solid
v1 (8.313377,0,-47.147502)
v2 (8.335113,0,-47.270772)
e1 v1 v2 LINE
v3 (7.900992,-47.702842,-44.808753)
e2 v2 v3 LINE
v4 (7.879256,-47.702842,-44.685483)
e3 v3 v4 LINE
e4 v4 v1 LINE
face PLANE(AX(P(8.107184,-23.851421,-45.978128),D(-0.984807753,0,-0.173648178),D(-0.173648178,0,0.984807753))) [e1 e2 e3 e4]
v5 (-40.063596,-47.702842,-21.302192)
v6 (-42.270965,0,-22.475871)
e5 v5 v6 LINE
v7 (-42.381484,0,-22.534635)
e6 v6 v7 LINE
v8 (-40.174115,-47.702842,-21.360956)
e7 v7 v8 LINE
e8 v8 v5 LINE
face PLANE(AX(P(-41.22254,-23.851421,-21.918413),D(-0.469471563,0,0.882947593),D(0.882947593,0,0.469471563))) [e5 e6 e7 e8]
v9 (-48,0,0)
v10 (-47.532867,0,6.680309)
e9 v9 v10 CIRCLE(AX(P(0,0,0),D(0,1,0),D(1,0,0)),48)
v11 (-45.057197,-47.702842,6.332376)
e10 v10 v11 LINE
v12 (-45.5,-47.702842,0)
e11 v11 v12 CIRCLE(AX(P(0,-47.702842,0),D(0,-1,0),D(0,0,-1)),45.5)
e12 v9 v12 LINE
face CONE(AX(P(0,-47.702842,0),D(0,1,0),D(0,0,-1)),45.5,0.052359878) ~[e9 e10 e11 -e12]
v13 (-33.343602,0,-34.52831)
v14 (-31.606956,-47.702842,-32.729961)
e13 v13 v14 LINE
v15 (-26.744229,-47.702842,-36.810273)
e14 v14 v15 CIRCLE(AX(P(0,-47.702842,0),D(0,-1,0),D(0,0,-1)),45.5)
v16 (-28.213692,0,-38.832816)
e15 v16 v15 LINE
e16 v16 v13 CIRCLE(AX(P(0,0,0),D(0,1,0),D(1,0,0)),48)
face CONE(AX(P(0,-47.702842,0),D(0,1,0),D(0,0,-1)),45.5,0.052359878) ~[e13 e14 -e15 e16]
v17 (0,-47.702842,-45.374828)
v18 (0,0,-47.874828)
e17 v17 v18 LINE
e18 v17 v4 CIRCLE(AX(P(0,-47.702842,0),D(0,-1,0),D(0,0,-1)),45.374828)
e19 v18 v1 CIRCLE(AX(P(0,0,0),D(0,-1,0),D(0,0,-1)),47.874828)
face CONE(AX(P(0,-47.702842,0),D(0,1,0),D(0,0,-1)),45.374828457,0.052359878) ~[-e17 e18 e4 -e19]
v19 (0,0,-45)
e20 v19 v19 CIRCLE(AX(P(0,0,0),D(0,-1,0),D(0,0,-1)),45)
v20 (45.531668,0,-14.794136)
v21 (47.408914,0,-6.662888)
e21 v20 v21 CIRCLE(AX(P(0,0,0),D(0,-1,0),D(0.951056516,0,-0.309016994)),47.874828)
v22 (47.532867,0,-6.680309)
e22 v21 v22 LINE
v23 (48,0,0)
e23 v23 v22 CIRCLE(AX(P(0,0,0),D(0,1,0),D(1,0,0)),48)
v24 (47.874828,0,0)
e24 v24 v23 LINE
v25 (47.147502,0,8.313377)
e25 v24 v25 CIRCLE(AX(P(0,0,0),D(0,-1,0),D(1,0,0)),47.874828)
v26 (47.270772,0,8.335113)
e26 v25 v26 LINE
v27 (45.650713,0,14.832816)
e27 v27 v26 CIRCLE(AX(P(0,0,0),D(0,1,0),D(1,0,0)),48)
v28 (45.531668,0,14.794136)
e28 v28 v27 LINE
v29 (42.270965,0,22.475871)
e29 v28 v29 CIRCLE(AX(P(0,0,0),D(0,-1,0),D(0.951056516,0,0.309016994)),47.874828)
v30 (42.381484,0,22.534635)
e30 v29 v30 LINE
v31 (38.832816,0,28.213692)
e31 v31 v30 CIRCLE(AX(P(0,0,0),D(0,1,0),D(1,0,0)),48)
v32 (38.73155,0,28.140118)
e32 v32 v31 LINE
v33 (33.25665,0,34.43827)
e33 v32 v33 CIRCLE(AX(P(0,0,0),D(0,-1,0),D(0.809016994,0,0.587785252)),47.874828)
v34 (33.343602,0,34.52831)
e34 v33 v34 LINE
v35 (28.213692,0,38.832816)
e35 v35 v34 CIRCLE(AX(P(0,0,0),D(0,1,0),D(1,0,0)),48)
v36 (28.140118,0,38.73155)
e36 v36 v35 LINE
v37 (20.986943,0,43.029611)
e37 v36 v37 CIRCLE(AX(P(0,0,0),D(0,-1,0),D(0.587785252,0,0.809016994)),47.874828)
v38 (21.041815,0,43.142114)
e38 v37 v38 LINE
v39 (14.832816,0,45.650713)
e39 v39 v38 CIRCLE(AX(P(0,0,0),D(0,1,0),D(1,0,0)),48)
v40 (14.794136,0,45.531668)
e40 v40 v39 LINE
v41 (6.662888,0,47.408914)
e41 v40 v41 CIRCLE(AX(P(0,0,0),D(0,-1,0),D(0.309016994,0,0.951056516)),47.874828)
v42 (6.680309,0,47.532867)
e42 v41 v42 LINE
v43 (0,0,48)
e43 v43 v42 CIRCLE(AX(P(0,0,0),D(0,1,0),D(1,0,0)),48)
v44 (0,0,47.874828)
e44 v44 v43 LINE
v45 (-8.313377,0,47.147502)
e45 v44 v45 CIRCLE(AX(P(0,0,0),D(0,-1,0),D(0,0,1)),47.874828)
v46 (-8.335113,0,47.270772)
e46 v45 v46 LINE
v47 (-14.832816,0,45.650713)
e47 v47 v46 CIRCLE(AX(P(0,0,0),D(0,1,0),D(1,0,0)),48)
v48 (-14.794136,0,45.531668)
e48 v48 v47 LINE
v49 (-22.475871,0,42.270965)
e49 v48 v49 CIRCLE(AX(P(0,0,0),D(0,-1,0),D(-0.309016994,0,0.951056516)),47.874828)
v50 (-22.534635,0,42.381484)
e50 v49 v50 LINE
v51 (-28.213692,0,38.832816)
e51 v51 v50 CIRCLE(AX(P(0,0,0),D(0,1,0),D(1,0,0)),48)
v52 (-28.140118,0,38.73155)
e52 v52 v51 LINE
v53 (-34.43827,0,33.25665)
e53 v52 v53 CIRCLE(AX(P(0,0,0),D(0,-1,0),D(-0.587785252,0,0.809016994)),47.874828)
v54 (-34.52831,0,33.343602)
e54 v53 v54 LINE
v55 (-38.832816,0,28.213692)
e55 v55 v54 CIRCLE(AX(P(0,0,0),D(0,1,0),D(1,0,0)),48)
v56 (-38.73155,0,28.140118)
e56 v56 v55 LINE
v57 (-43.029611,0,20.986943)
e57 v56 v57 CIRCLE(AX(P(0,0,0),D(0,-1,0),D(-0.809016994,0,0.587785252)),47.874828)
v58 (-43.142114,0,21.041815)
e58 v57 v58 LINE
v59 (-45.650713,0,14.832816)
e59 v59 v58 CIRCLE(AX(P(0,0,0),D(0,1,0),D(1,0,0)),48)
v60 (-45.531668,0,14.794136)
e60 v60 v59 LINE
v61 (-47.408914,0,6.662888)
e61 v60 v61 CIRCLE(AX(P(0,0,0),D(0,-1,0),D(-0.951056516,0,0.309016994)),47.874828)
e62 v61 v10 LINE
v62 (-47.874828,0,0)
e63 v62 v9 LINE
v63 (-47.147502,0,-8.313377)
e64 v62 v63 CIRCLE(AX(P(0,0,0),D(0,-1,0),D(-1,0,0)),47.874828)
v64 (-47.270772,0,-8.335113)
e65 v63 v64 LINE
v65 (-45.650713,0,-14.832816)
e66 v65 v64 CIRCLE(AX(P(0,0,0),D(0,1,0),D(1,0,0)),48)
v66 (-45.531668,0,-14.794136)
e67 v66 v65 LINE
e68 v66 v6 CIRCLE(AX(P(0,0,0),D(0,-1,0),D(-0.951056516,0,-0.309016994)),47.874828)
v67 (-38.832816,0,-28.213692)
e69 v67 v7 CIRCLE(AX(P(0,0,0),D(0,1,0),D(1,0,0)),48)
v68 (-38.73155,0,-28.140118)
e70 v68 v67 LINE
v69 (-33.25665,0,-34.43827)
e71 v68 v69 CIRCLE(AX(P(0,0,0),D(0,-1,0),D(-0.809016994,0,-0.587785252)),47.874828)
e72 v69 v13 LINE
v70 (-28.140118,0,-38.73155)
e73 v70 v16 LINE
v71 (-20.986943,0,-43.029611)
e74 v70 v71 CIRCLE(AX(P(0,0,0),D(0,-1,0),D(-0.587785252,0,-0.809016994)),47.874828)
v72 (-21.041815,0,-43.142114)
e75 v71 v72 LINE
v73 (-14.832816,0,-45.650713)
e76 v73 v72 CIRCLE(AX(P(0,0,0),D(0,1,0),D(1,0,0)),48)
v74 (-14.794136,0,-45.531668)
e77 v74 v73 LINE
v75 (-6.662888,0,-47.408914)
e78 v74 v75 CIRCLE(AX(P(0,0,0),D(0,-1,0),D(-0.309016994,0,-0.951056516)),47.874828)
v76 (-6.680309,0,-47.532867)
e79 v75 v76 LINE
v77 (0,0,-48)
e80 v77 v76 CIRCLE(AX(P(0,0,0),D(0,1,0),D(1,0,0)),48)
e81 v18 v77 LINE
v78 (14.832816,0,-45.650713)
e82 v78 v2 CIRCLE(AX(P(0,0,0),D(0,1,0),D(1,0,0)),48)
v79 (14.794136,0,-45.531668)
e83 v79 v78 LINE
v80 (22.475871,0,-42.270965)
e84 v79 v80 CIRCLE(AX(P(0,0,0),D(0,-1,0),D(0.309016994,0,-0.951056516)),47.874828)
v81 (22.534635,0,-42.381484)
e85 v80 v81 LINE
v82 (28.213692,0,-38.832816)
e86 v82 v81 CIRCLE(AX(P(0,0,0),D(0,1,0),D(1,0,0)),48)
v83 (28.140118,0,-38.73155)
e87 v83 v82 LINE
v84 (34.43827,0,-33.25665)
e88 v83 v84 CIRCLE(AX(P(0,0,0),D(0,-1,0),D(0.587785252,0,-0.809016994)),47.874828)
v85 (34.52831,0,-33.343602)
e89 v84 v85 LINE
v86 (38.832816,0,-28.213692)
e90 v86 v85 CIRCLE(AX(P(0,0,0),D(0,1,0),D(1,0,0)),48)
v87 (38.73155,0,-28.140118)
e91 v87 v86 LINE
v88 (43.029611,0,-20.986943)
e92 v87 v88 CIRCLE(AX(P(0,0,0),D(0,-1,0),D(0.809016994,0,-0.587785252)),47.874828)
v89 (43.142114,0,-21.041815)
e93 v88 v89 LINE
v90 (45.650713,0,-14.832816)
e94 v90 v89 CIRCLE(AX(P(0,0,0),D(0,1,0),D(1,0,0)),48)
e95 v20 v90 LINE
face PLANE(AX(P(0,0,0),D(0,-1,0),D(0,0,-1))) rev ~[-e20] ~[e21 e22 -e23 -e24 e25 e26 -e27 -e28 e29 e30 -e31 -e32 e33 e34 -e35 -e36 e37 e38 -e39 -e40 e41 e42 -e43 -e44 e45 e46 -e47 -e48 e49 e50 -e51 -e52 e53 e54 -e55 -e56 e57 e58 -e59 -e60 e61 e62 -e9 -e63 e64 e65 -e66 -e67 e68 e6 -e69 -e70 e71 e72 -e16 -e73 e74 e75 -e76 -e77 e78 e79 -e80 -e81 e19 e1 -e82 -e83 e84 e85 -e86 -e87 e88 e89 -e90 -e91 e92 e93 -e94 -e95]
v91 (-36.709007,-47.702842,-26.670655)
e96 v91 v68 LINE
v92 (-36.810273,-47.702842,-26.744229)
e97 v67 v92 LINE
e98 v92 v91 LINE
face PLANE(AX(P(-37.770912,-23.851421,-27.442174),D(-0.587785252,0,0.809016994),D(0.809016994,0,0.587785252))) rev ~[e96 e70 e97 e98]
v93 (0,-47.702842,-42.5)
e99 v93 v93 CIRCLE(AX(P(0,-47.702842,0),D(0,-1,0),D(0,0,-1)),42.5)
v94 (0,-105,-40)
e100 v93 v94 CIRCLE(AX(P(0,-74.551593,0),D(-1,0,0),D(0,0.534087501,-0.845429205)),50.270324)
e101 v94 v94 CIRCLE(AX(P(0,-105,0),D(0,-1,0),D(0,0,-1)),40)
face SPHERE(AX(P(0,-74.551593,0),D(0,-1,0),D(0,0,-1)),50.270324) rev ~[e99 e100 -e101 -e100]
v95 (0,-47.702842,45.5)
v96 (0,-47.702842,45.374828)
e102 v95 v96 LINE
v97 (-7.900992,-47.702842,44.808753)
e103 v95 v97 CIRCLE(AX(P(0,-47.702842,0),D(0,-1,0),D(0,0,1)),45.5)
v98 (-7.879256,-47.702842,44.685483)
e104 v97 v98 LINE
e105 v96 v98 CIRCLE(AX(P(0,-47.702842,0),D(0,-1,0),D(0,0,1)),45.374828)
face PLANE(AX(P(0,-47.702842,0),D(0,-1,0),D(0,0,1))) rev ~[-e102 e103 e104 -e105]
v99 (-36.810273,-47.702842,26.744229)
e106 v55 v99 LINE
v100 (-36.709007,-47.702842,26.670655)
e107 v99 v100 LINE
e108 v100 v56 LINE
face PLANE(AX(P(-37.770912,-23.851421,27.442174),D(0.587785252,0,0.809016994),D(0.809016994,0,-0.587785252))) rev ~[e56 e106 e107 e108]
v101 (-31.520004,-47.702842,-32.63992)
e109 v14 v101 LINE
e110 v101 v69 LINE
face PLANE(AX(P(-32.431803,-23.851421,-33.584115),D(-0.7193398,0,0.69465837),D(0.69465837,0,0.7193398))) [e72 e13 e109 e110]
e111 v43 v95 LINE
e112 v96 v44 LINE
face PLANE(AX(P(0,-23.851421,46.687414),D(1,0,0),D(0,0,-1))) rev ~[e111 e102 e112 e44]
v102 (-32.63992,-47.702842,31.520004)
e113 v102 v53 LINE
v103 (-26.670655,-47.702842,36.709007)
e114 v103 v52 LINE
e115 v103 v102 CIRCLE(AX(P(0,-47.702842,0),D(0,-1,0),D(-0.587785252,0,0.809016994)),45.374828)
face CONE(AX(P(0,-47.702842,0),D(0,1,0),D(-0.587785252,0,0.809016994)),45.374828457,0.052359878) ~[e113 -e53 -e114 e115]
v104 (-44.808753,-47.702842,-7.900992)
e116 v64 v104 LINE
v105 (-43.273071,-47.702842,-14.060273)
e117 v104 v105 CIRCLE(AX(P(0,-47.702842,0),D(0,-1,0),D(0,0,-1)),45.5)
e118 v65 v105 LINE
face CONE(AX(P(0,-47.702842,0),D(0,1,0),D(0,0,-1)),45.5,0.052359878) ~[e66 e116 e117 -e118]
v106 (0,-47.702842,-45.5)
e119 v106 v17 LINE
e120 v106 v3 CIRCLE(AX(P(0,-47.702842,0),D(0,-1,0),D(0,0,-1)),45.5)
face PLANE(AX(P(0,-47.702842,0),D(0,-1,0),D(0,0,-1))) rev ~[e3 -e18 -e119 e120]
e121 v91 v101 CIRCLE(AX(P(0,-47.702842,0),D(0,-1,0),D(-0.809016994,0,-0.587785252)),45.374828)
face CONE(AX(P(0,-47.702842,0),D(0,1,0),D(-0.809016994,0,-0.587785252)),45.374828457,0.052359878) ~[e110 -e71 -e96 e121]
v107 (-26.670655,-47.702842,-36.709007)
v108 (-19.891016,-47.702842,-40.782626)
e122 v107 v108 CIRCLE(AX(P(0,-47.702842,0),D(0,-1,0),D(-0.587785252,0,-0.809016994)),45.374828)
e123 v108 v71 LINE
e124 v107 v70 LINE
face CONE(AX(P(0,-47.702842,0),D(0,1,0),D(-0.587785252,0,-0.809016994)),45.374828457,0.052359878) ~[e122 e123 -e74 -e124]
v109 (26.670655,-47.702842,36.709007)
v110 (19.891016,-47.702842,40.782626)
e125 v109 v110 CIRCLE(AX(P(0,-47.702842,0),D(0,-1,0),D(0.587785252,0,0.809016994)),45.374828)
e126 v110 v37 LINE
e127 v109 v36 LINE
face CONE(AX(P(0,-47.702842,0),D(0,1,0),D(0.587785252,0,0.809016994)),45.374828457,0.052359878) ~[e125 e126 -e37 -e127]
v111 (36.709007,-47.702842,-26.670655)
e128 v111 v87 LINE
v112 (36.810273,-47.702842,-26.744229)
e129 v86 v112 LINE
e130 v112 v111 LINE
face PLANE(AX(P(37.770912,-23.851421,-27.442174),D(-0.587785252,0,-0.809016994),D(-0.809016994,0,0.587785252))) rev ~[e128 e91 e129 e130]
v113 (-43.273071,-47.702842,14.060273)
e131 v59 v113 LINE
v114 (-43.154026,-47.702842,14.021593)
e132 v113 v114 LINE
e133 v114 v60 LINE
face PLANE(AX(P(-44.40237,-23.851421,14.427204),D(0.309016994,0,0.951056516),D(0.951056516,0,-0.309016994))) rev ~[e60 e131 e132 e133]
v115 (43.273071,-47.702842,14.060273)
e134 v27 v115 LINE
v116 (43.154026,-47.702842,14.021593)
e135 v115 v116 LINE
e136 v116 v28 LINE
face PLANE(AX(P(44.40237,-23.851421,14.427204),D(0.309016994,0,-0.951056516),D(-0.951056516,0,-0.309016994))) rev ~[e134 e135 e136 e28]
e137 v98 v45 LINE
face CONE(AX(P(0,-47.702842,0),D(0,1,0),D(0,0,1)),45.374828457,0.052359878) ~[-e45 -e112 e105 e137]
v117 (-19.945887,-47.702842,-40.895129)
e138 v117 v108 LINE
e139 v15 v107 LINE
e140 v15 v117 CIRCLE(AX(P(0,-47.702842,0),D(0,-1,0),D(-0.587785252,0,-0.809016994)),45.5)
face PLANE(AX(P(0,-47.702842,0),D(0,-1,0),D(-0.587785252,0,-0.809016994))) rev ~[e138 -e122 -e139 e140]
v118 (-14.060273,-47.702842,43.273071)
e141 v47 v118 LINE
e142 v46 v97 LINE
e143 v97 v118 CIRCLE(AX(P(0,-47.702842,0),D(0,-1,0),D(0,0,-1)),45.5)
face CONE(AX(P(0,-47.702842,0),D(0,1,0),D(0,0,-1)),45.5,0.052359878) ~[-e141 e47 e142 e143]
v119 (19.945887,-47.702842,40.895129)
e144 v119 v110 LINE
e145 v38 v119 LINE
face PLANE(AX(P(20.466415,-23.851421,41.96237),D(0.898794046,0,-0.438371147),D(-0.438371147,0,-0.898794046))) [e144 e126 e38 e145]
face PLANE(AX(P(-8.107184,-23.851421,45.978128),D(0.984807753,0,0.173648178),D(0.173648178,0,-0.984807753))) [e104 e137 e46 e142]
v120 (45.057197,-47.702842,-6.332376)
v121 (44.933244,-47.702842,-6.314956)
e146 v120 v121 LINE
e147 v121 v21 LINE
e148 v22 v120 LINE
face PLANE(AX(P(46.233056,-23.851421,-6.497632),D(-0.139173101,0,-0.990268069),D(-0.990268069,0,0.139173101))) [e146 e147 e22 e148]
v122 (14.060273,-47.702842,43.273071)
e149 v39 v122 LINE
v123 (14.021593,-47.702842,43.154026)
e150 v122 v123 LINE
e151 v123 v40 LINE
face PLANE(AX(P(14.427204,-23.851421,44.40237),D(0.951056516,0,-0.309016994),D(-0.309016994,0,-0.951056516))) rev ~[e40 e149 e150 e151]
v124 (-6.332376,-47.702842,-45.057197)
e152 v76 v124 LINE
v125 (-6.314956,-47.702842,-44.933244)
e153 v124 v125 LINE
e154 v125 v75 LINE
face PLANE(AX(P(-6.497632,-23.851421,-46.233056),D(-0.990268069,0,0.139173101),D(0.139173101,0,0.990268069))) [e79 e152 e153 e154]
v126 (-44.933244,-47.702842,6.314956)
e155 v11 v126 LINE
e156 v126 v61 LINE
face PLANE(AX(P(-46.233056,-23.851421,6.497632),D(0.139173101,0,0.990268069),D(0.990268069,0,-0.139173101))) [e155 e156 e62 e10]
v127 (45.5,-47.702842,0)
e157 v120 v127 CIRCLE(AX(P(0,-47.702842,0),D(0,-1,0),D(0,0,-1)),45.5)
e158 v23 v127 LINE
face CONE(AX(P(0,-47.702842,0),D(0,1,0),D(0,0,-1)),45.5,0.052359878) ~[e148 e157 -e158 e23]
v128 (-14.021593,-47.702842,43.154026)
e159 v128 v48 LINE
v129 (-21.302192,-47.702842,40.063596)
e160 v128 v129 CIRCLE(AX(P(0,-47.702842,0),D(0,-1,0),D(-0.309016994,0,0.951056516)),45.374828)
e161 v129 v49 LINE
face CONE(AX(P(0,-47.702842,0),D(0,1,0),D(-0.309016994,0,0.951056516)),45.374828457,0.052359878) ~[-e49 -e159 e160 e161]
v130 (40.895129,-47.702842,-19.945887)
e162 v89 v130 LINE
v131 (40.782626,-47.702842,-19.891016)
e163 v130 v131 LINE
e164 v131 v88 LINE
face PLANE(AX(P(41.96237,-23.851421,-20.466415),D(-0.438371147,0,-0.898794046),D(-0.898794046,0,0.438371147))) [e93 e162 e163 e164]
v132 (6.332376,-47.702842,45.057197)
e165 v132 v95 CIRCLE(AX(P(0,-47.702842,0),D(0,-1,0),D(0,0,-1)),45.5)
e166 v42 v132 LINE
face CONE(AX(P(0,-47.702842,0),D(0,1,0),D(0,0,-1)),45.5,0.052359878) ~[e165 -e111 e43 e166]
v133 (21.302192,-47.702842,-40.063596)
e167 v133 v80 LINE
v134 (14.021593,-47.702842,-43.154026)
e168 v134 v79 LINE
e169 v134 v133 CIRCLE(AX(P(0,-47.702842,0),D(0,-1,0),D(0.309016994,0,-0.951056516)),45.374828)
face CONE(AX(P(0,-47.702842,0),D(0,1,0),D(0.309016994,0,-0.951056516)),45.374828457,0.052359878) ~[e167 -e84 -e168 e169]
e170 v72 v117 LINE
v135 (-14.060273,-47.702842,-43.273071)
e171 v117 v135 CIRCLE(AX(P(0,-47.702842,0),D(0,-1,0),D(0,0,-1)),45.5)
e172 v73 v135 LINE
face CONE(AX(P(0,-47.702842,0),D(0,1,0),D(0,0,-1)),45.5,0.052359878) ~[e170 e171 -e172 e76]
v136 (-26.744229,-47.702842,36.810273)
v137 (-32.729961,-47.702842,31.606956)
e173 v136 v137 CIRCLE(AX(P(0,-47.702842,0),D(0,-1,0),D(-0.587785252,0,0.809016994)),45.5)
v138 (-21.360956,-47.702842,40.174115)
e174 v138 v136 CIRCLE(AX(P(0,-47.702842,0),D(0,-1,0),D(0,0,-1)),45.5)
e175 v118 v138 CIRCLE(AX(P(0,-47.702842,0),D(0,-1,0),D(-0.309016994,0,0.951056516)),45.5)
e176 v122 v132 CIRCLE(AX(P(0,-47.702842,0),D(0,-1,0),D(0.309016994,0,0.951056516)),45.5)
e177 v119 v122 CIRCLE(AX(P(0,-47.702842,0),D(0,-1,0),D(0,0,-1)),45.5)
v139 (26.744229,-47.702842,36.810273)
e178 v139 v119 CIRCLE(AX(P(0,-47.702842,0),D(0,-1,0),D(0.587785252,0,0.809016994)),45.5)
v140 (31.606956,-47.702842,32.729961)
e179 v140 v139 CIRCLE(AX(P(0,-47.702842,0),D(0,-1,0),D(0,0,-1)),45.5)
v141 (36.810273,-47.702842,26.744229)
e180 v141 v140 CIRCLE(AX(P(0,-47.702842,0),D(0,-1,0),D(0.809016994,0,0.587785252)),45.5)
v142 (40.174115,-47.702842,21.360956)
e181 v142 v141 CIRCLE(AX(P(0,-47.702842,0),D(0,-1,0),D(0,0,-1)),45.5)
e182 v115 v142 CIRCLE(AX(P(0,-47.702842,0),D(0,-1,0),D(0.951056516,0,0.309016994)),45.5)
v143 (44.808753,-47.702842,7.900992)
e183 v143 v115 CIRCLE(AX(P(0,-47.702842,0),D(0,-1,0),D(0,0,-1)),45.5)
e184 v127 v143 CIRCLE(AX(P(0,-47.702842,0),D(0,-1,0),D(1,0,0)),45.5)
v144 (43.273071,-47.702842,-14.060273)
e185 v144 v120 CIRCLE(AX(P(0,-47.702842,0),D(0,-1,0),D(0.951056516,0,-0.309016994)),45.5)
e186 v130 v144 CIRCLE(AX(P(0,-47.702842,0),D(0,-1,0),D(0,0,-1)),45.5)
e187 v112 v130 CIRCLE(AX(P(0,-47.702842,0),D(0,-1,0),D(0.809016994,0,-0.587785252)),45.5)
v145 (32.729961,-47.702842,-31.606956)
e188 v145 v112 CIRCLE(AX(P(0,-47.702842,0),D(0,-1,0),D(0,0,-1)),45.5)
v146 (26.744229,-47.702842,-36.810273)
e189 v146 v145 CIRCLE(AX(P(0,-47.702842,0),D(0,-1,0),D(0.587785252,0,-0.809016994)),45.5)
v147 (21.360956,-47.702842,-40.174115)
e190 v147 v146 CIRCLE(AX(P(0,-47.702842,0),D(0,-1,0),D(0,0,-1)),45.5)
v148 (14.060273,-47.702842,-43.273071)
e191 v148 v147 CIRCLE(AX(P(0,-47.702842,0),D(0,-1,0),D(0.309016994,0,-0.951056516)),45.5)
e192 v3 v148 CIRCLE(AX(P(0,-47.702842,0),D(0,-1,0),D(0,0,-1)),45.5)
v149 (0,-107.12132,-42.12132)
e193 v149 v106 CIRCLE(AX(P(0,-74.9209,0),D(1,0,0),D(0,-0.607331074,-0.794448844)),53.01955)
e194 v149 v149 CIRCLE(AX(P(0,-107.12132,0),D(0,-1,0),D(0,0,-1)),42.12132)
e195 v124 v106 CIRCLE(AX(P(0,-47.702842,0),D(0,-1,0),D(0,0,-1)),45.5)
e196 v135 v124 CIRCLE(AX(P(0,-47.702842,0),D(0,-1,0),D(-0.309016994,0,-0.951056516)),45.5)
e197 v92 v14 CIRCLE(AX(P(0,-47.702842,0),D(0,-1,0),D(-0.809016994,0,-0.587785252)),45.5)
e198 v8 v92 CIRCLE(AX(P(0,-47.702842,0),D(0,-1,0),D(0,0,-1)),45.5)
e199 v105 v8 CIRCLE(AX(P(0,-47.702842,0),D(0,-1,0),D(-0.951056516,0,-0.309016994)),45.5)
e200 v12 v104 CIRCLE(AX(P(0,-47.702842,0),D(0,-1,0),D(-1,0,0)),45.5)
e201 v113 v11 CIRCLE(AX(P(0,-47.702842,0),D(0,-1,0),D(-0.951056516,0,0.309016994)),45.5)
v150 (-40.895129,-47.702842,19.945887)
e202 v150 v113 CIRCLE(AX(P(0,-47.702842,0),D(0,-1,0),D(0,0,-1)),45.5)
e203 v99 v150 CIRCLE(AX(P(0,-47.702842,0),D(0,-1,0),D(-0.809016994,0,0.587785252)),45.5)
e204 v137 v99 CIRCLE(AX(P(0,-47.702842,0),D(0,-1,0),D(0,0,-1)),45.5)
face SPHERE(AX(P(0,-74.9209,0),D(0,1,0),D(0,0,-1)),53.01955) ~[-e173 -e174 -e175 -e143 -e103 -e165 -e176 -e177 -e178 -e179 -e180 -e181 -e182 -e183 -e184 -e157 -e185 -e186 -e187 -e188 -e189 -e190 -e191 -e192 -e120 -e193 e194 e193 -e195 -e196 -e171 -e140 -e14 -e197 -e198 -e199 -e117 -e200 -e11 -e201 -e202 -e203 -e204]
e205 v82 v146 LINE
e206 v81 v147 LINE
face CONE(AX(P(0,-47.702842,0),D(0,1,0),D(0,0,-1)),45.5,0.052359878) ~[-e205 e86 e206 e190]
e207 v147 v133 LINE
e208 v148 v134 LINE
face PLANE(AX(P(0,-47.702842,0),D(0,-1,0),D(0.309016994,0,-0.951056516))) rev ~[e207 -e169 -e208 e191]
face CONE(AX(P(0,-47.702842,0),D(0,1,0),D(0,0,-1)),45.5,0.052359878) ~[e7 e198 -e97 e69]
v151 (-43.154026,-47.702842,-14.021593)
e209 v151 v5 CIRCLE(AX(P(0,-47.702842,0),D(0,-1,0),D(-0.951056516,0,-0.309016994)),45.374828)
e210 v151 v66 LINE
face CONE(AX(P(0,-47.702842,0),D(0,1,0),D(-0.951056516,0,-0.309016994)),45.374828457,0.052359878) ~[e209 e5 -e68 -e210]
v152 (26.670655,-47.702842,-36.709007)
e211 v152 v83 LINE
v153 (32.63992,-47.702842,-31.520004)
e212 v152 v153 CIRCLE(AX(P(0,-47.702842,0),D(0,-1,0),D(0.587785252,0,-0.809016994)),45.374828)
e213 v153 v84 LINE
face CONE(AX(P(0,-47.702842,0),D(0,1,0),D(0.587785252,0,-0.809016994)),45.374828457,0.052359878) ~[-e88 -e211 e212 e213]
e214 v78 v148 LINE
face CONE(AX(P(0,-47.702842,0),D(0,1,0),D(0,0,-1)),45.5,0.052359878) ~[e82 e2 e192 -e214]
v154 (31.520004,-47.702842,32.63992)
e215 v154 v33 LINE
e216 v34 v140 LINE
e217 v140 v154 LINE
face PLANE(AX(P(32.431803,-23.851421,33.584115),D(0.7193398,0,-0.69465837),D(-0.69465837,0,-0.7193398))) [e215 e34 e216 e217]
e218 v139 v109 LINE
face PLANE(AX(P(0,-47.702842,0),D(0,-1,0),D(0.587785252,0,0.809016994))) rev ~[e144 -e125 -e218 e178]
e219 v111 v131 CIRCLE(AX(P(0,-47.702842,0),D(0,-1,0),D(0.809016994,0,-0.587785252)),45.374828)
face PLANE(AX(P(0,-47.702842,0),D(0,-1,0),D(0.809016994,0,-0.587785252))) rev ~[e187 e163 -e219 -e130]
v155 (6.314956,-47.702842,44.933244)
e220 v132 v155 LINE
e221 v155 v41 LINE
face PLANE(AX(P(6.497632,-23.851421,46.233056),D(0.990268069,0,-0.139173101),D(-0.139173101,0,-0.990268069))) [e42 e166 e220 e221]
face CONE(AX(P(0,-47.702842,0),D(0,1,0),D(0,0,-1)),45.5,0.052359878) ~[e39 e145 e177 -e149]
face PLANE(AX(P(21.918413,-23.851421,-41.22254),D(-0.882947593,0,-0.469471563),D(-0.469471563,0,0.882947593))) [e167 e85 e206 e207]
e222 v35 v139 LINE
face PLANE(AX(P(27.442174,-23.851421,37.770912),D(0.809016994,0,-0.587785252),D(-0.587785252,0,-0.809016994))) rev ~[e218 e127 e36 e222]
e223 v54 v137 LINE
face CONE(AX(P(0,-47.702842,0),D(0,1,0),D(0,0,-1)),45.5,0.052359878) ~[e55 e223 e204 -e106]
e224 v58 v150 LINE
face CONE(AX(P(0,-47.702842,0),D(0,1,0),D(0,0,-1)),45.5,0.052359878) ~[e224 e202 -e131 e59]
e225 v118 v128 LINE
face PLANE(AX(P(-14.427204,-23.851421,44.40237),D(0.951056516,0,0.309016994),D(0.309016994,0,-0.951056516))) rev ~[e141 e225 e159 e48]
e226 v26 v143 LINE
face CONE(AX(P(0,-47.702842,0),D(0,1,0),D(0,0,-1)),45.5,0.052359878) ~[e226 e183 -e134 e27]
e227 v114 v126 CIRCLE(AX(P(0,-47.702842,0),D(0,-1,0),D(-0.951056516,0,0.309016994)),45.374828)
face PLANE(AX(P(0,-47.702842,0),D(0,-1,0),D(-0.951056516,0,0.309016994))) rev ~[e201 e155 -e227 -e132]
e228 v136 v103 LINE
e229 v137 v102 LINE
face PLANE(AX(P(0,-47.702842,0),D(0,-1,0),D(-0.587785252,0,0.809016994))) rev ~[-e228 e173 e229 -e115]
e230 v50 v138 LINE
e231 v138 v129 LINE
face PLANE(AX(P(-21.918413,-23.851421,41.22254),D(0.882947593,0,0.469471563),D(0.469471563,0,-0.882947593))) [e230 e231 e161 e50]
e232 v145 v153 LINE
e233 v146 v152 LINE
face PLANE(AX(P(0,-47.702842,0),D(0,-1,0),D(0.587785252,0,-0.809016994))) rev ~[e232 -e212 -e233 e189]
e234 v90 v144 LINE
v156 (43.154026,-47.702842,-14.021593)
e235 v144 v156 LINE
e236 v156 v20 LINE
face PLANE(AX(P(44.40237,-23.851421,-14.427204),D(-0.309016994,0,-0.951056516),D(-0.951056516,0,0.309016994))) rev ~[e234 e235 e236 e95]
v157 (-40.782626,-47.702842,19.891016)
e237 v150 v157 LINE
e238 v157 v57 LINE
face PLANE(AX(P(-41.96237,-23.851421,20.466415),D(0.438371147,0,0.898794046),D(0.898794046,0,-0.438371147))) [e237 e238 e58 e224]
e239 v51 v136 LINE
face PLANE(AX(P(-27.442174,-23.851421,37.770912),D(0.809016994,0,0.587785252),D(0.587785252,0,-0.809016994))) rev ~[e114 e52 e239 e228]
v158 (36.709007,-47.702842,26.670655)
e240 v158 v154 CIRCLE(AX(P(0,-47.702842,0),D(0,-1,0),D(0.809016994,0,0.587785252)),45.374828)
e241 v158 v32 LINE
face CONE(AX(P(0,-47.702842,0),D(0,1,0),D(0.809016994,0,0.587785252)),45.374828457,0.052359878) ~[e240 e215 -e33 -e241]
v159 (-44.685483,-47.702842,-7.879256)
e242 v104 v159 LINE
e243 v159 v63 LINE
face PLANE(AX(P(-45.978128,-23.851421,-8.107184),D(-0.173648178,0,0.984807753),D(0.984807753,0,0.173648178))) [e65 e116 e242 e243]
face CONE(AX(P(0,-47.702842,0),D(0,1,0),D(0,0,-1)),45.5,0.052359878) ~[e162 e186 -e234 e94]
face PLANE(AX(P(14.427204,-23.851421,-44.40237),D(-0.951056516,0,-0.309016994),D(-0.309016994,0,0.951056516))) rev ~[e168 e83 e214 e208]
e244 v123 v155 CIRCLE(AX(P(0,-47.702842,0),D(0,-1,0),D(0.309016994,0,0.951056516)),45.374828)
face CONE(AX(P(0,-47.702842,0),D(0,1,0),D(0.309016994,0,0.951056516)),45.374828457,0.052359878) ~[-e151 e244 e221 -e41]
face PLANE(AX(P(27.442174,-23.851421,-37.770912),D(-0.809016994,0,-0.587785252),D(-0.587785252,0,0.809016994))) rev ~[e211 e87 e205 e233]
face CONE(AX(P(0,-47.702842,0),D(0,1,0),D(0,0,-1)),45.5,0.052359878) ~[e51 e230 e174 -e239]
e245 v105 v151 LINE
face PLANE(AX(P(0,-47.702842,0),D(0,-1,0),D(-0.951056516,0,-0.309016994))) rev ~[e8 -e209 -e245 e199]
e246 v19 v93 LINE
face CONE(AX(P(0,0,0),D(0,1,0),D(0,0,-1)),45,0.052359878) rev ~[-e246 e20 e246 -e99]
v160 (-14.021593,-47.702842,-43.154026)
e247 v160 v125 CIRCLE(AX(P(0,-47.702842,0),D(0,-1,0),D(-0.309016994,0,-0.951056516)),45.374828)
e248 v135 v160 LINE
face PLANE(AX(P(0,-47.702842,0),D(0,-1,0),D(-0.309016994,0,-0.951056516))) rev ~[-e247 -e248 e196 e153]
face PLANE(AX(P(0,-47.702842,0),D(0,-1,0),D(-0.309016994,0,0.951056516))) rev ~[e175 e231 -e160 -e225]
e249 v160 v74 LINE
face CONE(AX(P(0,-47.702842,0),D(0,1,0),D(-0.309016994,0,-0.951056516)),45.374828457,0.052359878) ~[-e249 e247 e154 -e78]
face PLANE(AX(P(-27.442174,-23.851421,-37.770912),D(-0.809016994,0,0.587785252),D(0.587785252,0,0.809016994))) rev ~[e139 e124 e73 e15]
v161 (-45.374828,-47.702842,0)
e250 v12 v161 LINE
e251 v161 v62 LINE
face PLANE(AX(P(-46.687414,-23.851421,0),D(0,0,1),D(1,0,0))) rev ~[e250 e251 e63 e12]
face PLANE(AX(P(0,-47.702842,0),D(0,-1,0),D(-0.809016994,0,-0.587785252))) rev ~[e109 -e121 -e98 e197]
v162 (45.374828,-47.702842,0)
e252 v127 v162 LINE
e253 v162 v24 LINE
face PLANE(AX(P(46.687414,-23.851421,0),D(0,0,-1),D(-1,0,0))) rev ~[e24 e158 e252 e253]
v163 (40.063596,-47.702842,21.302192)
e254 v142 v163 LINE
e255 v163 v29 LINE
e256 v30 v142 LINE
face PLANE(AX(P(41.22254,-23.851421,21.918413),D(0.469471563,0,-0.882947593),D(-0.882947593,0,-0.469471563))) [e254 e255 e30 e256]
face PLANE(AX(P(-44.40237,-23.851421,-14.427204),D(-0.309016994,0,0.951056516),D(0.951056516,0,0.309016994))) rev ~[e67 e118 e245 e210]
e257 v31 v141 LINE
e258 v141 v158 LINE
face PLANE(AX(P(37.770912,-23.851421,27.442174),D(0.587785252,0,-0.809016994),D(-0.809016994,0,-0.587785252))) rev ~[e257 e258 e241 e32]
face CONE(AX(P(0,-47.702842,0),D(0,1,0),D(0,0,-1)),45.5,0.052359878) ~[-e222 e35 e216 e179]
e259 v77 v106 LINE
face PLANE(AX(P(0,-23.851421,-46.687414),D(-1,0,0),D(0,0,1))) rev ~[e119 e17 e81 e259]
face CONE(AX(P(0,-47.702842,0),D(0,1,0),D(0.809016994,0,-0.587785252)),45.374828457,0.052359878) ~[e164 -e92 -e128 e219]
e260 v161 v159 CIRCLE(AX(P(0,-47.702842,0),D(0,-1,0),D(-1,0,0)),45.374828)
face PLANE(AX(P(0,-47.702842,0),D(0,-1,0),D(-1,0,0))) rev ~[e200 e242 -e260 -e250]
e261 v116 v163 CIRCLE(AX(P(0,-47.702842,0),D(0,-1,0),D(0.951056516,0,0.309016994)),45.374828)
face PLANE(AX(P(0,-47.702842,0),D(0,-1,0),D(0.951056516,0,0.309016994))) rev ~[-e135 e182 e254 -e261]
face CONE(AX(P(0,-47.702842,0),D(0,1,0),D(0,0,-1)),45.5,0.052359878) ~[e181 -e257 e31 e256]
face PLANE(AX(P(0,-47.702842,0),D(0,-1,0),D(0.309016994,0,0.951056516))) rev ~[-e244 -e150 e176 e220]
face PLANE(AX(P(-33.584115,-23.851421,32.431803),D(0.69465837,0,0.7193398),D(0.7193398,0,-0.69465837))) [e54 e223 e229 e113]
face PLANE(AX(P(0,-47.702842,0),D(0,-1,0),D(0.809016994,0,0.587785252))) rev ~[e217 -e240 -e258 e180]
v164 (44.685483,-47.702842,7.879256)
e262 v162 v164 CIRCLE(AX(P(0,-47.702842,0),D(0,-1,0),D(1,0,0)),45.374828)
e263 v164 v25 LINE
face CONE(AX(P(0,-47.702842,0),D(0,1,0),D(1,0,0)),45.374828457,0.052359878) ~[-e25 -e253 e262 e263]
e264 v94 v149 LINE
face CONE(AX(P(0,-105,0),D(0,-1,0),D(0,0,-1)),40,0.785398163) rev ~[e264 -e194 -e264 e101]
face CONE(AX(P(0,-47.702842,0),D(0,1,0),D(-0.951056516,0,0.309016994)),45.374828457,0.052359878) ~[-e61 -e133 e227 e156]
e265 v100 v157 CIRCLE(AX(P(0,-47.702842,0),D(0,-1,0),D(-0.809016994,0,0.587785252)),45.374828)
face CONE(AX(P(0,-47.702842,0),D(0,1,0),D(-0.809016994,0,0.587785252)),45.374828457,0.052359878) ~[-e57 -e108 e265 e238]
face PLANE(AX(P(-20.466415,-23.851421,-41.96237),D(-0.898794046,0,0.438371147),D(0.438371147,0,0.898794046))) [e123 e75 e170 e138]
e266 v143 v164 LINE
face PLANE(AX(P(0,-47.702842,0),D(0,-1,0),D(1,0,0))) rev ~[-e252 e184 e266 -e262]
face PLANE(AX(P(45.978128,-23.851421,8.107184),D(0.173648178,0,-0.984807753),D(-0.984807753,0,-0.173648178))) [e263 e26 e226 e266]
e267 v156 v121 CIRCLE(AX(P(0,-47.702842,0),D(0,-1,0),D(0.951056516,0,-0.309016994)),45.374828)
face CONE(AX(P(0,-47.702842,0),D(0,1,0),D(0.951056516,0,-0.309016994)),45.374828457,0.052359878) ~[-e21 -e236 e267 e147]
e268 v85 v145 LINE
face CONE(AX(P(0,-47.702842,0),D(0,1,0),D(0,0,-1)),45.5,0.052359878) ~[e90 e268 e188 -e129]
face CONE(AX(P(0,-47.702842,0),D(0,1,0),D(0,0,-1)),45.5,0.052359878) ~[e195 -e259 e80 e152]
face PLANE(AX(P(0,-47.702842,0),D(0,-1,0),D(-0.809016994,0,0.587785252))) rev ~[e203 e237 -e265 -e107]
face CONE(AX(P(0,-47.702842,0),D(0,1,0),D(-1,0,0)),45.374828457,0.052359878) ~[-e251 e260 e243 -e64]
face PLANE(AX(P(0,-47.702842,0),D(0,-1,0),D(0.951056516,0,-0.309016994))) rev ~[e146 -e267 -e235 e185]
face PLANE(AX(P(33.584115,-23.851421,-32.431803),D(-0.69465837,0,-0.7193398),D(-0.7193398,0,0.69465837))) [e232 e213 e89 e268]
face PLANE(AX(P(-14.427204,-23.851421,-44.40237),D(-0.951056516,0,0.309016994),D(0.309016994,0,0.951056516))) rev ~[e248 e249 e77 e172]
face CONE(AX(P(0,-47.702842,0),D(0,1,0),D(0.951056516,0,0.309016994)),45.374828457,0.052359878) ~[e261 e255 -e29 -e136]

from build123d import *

# Parameters (mm, degrees)
CUT_REVOLVE1_ANGLE = 10
CIRPATTERN1_COUNT  = 20


with BuildPart() as part:
    # Sketch1 → Revolve1 (revolve)
    with BuildSketch(Plane(origin=(0, 0, 0), x_dir=(0, 0, -1), z_dir=(1, 0, 0))):
        with BuildLine():
            Line((45, 0), (42.5, -47.702841719))
            ThreePointArc((42.5, -47.702841719), (50.222540624, -76.742912379), (40, -105))
            Line((40, -105), (42.121320344, -107.121320344))
            ThreePointArc((42.121320344, -107.121320344), (52.934042404, -77.930858803), (45.5, -47.702841719))
            Line((45.5, -47.702841719), (48, 0))
            Line((48, 0), (45, 0))
        make_face()
    revolve(axis=Axis((0, 50.355486862, 0), (0, -1, 0)))

    # Sketch2 → Cut-Revolve1 (revolve, cut)
    with BuildSketch(Plane.XY):
        Polygon((48, 0), (45.5, -47.702841719), (45.374828457, -47.702841719), (47.874828457, 0), align=None)
    cut_revolve1 = revolve(axis=Axis((0, 0, 0), (0, -1, 0)), revolution_arc=CUT_REVOLVE1_ANGLE, mode=Mode.SUBTRACT)

    # CirPattern1: Cut-Revolve1 ×20 about axis
    cirpattern1_axis = Axis((0, 0, 0), (0, 1, 0))
    for i in range(1, CIRPATTERN1_COUNT):
        add(cut_revolve1.rotate(cirpattern1_axis, i * 360 / CIRPATTERN1_COUNT), mode=Mode.SUBTRACT)


solid = part.part
